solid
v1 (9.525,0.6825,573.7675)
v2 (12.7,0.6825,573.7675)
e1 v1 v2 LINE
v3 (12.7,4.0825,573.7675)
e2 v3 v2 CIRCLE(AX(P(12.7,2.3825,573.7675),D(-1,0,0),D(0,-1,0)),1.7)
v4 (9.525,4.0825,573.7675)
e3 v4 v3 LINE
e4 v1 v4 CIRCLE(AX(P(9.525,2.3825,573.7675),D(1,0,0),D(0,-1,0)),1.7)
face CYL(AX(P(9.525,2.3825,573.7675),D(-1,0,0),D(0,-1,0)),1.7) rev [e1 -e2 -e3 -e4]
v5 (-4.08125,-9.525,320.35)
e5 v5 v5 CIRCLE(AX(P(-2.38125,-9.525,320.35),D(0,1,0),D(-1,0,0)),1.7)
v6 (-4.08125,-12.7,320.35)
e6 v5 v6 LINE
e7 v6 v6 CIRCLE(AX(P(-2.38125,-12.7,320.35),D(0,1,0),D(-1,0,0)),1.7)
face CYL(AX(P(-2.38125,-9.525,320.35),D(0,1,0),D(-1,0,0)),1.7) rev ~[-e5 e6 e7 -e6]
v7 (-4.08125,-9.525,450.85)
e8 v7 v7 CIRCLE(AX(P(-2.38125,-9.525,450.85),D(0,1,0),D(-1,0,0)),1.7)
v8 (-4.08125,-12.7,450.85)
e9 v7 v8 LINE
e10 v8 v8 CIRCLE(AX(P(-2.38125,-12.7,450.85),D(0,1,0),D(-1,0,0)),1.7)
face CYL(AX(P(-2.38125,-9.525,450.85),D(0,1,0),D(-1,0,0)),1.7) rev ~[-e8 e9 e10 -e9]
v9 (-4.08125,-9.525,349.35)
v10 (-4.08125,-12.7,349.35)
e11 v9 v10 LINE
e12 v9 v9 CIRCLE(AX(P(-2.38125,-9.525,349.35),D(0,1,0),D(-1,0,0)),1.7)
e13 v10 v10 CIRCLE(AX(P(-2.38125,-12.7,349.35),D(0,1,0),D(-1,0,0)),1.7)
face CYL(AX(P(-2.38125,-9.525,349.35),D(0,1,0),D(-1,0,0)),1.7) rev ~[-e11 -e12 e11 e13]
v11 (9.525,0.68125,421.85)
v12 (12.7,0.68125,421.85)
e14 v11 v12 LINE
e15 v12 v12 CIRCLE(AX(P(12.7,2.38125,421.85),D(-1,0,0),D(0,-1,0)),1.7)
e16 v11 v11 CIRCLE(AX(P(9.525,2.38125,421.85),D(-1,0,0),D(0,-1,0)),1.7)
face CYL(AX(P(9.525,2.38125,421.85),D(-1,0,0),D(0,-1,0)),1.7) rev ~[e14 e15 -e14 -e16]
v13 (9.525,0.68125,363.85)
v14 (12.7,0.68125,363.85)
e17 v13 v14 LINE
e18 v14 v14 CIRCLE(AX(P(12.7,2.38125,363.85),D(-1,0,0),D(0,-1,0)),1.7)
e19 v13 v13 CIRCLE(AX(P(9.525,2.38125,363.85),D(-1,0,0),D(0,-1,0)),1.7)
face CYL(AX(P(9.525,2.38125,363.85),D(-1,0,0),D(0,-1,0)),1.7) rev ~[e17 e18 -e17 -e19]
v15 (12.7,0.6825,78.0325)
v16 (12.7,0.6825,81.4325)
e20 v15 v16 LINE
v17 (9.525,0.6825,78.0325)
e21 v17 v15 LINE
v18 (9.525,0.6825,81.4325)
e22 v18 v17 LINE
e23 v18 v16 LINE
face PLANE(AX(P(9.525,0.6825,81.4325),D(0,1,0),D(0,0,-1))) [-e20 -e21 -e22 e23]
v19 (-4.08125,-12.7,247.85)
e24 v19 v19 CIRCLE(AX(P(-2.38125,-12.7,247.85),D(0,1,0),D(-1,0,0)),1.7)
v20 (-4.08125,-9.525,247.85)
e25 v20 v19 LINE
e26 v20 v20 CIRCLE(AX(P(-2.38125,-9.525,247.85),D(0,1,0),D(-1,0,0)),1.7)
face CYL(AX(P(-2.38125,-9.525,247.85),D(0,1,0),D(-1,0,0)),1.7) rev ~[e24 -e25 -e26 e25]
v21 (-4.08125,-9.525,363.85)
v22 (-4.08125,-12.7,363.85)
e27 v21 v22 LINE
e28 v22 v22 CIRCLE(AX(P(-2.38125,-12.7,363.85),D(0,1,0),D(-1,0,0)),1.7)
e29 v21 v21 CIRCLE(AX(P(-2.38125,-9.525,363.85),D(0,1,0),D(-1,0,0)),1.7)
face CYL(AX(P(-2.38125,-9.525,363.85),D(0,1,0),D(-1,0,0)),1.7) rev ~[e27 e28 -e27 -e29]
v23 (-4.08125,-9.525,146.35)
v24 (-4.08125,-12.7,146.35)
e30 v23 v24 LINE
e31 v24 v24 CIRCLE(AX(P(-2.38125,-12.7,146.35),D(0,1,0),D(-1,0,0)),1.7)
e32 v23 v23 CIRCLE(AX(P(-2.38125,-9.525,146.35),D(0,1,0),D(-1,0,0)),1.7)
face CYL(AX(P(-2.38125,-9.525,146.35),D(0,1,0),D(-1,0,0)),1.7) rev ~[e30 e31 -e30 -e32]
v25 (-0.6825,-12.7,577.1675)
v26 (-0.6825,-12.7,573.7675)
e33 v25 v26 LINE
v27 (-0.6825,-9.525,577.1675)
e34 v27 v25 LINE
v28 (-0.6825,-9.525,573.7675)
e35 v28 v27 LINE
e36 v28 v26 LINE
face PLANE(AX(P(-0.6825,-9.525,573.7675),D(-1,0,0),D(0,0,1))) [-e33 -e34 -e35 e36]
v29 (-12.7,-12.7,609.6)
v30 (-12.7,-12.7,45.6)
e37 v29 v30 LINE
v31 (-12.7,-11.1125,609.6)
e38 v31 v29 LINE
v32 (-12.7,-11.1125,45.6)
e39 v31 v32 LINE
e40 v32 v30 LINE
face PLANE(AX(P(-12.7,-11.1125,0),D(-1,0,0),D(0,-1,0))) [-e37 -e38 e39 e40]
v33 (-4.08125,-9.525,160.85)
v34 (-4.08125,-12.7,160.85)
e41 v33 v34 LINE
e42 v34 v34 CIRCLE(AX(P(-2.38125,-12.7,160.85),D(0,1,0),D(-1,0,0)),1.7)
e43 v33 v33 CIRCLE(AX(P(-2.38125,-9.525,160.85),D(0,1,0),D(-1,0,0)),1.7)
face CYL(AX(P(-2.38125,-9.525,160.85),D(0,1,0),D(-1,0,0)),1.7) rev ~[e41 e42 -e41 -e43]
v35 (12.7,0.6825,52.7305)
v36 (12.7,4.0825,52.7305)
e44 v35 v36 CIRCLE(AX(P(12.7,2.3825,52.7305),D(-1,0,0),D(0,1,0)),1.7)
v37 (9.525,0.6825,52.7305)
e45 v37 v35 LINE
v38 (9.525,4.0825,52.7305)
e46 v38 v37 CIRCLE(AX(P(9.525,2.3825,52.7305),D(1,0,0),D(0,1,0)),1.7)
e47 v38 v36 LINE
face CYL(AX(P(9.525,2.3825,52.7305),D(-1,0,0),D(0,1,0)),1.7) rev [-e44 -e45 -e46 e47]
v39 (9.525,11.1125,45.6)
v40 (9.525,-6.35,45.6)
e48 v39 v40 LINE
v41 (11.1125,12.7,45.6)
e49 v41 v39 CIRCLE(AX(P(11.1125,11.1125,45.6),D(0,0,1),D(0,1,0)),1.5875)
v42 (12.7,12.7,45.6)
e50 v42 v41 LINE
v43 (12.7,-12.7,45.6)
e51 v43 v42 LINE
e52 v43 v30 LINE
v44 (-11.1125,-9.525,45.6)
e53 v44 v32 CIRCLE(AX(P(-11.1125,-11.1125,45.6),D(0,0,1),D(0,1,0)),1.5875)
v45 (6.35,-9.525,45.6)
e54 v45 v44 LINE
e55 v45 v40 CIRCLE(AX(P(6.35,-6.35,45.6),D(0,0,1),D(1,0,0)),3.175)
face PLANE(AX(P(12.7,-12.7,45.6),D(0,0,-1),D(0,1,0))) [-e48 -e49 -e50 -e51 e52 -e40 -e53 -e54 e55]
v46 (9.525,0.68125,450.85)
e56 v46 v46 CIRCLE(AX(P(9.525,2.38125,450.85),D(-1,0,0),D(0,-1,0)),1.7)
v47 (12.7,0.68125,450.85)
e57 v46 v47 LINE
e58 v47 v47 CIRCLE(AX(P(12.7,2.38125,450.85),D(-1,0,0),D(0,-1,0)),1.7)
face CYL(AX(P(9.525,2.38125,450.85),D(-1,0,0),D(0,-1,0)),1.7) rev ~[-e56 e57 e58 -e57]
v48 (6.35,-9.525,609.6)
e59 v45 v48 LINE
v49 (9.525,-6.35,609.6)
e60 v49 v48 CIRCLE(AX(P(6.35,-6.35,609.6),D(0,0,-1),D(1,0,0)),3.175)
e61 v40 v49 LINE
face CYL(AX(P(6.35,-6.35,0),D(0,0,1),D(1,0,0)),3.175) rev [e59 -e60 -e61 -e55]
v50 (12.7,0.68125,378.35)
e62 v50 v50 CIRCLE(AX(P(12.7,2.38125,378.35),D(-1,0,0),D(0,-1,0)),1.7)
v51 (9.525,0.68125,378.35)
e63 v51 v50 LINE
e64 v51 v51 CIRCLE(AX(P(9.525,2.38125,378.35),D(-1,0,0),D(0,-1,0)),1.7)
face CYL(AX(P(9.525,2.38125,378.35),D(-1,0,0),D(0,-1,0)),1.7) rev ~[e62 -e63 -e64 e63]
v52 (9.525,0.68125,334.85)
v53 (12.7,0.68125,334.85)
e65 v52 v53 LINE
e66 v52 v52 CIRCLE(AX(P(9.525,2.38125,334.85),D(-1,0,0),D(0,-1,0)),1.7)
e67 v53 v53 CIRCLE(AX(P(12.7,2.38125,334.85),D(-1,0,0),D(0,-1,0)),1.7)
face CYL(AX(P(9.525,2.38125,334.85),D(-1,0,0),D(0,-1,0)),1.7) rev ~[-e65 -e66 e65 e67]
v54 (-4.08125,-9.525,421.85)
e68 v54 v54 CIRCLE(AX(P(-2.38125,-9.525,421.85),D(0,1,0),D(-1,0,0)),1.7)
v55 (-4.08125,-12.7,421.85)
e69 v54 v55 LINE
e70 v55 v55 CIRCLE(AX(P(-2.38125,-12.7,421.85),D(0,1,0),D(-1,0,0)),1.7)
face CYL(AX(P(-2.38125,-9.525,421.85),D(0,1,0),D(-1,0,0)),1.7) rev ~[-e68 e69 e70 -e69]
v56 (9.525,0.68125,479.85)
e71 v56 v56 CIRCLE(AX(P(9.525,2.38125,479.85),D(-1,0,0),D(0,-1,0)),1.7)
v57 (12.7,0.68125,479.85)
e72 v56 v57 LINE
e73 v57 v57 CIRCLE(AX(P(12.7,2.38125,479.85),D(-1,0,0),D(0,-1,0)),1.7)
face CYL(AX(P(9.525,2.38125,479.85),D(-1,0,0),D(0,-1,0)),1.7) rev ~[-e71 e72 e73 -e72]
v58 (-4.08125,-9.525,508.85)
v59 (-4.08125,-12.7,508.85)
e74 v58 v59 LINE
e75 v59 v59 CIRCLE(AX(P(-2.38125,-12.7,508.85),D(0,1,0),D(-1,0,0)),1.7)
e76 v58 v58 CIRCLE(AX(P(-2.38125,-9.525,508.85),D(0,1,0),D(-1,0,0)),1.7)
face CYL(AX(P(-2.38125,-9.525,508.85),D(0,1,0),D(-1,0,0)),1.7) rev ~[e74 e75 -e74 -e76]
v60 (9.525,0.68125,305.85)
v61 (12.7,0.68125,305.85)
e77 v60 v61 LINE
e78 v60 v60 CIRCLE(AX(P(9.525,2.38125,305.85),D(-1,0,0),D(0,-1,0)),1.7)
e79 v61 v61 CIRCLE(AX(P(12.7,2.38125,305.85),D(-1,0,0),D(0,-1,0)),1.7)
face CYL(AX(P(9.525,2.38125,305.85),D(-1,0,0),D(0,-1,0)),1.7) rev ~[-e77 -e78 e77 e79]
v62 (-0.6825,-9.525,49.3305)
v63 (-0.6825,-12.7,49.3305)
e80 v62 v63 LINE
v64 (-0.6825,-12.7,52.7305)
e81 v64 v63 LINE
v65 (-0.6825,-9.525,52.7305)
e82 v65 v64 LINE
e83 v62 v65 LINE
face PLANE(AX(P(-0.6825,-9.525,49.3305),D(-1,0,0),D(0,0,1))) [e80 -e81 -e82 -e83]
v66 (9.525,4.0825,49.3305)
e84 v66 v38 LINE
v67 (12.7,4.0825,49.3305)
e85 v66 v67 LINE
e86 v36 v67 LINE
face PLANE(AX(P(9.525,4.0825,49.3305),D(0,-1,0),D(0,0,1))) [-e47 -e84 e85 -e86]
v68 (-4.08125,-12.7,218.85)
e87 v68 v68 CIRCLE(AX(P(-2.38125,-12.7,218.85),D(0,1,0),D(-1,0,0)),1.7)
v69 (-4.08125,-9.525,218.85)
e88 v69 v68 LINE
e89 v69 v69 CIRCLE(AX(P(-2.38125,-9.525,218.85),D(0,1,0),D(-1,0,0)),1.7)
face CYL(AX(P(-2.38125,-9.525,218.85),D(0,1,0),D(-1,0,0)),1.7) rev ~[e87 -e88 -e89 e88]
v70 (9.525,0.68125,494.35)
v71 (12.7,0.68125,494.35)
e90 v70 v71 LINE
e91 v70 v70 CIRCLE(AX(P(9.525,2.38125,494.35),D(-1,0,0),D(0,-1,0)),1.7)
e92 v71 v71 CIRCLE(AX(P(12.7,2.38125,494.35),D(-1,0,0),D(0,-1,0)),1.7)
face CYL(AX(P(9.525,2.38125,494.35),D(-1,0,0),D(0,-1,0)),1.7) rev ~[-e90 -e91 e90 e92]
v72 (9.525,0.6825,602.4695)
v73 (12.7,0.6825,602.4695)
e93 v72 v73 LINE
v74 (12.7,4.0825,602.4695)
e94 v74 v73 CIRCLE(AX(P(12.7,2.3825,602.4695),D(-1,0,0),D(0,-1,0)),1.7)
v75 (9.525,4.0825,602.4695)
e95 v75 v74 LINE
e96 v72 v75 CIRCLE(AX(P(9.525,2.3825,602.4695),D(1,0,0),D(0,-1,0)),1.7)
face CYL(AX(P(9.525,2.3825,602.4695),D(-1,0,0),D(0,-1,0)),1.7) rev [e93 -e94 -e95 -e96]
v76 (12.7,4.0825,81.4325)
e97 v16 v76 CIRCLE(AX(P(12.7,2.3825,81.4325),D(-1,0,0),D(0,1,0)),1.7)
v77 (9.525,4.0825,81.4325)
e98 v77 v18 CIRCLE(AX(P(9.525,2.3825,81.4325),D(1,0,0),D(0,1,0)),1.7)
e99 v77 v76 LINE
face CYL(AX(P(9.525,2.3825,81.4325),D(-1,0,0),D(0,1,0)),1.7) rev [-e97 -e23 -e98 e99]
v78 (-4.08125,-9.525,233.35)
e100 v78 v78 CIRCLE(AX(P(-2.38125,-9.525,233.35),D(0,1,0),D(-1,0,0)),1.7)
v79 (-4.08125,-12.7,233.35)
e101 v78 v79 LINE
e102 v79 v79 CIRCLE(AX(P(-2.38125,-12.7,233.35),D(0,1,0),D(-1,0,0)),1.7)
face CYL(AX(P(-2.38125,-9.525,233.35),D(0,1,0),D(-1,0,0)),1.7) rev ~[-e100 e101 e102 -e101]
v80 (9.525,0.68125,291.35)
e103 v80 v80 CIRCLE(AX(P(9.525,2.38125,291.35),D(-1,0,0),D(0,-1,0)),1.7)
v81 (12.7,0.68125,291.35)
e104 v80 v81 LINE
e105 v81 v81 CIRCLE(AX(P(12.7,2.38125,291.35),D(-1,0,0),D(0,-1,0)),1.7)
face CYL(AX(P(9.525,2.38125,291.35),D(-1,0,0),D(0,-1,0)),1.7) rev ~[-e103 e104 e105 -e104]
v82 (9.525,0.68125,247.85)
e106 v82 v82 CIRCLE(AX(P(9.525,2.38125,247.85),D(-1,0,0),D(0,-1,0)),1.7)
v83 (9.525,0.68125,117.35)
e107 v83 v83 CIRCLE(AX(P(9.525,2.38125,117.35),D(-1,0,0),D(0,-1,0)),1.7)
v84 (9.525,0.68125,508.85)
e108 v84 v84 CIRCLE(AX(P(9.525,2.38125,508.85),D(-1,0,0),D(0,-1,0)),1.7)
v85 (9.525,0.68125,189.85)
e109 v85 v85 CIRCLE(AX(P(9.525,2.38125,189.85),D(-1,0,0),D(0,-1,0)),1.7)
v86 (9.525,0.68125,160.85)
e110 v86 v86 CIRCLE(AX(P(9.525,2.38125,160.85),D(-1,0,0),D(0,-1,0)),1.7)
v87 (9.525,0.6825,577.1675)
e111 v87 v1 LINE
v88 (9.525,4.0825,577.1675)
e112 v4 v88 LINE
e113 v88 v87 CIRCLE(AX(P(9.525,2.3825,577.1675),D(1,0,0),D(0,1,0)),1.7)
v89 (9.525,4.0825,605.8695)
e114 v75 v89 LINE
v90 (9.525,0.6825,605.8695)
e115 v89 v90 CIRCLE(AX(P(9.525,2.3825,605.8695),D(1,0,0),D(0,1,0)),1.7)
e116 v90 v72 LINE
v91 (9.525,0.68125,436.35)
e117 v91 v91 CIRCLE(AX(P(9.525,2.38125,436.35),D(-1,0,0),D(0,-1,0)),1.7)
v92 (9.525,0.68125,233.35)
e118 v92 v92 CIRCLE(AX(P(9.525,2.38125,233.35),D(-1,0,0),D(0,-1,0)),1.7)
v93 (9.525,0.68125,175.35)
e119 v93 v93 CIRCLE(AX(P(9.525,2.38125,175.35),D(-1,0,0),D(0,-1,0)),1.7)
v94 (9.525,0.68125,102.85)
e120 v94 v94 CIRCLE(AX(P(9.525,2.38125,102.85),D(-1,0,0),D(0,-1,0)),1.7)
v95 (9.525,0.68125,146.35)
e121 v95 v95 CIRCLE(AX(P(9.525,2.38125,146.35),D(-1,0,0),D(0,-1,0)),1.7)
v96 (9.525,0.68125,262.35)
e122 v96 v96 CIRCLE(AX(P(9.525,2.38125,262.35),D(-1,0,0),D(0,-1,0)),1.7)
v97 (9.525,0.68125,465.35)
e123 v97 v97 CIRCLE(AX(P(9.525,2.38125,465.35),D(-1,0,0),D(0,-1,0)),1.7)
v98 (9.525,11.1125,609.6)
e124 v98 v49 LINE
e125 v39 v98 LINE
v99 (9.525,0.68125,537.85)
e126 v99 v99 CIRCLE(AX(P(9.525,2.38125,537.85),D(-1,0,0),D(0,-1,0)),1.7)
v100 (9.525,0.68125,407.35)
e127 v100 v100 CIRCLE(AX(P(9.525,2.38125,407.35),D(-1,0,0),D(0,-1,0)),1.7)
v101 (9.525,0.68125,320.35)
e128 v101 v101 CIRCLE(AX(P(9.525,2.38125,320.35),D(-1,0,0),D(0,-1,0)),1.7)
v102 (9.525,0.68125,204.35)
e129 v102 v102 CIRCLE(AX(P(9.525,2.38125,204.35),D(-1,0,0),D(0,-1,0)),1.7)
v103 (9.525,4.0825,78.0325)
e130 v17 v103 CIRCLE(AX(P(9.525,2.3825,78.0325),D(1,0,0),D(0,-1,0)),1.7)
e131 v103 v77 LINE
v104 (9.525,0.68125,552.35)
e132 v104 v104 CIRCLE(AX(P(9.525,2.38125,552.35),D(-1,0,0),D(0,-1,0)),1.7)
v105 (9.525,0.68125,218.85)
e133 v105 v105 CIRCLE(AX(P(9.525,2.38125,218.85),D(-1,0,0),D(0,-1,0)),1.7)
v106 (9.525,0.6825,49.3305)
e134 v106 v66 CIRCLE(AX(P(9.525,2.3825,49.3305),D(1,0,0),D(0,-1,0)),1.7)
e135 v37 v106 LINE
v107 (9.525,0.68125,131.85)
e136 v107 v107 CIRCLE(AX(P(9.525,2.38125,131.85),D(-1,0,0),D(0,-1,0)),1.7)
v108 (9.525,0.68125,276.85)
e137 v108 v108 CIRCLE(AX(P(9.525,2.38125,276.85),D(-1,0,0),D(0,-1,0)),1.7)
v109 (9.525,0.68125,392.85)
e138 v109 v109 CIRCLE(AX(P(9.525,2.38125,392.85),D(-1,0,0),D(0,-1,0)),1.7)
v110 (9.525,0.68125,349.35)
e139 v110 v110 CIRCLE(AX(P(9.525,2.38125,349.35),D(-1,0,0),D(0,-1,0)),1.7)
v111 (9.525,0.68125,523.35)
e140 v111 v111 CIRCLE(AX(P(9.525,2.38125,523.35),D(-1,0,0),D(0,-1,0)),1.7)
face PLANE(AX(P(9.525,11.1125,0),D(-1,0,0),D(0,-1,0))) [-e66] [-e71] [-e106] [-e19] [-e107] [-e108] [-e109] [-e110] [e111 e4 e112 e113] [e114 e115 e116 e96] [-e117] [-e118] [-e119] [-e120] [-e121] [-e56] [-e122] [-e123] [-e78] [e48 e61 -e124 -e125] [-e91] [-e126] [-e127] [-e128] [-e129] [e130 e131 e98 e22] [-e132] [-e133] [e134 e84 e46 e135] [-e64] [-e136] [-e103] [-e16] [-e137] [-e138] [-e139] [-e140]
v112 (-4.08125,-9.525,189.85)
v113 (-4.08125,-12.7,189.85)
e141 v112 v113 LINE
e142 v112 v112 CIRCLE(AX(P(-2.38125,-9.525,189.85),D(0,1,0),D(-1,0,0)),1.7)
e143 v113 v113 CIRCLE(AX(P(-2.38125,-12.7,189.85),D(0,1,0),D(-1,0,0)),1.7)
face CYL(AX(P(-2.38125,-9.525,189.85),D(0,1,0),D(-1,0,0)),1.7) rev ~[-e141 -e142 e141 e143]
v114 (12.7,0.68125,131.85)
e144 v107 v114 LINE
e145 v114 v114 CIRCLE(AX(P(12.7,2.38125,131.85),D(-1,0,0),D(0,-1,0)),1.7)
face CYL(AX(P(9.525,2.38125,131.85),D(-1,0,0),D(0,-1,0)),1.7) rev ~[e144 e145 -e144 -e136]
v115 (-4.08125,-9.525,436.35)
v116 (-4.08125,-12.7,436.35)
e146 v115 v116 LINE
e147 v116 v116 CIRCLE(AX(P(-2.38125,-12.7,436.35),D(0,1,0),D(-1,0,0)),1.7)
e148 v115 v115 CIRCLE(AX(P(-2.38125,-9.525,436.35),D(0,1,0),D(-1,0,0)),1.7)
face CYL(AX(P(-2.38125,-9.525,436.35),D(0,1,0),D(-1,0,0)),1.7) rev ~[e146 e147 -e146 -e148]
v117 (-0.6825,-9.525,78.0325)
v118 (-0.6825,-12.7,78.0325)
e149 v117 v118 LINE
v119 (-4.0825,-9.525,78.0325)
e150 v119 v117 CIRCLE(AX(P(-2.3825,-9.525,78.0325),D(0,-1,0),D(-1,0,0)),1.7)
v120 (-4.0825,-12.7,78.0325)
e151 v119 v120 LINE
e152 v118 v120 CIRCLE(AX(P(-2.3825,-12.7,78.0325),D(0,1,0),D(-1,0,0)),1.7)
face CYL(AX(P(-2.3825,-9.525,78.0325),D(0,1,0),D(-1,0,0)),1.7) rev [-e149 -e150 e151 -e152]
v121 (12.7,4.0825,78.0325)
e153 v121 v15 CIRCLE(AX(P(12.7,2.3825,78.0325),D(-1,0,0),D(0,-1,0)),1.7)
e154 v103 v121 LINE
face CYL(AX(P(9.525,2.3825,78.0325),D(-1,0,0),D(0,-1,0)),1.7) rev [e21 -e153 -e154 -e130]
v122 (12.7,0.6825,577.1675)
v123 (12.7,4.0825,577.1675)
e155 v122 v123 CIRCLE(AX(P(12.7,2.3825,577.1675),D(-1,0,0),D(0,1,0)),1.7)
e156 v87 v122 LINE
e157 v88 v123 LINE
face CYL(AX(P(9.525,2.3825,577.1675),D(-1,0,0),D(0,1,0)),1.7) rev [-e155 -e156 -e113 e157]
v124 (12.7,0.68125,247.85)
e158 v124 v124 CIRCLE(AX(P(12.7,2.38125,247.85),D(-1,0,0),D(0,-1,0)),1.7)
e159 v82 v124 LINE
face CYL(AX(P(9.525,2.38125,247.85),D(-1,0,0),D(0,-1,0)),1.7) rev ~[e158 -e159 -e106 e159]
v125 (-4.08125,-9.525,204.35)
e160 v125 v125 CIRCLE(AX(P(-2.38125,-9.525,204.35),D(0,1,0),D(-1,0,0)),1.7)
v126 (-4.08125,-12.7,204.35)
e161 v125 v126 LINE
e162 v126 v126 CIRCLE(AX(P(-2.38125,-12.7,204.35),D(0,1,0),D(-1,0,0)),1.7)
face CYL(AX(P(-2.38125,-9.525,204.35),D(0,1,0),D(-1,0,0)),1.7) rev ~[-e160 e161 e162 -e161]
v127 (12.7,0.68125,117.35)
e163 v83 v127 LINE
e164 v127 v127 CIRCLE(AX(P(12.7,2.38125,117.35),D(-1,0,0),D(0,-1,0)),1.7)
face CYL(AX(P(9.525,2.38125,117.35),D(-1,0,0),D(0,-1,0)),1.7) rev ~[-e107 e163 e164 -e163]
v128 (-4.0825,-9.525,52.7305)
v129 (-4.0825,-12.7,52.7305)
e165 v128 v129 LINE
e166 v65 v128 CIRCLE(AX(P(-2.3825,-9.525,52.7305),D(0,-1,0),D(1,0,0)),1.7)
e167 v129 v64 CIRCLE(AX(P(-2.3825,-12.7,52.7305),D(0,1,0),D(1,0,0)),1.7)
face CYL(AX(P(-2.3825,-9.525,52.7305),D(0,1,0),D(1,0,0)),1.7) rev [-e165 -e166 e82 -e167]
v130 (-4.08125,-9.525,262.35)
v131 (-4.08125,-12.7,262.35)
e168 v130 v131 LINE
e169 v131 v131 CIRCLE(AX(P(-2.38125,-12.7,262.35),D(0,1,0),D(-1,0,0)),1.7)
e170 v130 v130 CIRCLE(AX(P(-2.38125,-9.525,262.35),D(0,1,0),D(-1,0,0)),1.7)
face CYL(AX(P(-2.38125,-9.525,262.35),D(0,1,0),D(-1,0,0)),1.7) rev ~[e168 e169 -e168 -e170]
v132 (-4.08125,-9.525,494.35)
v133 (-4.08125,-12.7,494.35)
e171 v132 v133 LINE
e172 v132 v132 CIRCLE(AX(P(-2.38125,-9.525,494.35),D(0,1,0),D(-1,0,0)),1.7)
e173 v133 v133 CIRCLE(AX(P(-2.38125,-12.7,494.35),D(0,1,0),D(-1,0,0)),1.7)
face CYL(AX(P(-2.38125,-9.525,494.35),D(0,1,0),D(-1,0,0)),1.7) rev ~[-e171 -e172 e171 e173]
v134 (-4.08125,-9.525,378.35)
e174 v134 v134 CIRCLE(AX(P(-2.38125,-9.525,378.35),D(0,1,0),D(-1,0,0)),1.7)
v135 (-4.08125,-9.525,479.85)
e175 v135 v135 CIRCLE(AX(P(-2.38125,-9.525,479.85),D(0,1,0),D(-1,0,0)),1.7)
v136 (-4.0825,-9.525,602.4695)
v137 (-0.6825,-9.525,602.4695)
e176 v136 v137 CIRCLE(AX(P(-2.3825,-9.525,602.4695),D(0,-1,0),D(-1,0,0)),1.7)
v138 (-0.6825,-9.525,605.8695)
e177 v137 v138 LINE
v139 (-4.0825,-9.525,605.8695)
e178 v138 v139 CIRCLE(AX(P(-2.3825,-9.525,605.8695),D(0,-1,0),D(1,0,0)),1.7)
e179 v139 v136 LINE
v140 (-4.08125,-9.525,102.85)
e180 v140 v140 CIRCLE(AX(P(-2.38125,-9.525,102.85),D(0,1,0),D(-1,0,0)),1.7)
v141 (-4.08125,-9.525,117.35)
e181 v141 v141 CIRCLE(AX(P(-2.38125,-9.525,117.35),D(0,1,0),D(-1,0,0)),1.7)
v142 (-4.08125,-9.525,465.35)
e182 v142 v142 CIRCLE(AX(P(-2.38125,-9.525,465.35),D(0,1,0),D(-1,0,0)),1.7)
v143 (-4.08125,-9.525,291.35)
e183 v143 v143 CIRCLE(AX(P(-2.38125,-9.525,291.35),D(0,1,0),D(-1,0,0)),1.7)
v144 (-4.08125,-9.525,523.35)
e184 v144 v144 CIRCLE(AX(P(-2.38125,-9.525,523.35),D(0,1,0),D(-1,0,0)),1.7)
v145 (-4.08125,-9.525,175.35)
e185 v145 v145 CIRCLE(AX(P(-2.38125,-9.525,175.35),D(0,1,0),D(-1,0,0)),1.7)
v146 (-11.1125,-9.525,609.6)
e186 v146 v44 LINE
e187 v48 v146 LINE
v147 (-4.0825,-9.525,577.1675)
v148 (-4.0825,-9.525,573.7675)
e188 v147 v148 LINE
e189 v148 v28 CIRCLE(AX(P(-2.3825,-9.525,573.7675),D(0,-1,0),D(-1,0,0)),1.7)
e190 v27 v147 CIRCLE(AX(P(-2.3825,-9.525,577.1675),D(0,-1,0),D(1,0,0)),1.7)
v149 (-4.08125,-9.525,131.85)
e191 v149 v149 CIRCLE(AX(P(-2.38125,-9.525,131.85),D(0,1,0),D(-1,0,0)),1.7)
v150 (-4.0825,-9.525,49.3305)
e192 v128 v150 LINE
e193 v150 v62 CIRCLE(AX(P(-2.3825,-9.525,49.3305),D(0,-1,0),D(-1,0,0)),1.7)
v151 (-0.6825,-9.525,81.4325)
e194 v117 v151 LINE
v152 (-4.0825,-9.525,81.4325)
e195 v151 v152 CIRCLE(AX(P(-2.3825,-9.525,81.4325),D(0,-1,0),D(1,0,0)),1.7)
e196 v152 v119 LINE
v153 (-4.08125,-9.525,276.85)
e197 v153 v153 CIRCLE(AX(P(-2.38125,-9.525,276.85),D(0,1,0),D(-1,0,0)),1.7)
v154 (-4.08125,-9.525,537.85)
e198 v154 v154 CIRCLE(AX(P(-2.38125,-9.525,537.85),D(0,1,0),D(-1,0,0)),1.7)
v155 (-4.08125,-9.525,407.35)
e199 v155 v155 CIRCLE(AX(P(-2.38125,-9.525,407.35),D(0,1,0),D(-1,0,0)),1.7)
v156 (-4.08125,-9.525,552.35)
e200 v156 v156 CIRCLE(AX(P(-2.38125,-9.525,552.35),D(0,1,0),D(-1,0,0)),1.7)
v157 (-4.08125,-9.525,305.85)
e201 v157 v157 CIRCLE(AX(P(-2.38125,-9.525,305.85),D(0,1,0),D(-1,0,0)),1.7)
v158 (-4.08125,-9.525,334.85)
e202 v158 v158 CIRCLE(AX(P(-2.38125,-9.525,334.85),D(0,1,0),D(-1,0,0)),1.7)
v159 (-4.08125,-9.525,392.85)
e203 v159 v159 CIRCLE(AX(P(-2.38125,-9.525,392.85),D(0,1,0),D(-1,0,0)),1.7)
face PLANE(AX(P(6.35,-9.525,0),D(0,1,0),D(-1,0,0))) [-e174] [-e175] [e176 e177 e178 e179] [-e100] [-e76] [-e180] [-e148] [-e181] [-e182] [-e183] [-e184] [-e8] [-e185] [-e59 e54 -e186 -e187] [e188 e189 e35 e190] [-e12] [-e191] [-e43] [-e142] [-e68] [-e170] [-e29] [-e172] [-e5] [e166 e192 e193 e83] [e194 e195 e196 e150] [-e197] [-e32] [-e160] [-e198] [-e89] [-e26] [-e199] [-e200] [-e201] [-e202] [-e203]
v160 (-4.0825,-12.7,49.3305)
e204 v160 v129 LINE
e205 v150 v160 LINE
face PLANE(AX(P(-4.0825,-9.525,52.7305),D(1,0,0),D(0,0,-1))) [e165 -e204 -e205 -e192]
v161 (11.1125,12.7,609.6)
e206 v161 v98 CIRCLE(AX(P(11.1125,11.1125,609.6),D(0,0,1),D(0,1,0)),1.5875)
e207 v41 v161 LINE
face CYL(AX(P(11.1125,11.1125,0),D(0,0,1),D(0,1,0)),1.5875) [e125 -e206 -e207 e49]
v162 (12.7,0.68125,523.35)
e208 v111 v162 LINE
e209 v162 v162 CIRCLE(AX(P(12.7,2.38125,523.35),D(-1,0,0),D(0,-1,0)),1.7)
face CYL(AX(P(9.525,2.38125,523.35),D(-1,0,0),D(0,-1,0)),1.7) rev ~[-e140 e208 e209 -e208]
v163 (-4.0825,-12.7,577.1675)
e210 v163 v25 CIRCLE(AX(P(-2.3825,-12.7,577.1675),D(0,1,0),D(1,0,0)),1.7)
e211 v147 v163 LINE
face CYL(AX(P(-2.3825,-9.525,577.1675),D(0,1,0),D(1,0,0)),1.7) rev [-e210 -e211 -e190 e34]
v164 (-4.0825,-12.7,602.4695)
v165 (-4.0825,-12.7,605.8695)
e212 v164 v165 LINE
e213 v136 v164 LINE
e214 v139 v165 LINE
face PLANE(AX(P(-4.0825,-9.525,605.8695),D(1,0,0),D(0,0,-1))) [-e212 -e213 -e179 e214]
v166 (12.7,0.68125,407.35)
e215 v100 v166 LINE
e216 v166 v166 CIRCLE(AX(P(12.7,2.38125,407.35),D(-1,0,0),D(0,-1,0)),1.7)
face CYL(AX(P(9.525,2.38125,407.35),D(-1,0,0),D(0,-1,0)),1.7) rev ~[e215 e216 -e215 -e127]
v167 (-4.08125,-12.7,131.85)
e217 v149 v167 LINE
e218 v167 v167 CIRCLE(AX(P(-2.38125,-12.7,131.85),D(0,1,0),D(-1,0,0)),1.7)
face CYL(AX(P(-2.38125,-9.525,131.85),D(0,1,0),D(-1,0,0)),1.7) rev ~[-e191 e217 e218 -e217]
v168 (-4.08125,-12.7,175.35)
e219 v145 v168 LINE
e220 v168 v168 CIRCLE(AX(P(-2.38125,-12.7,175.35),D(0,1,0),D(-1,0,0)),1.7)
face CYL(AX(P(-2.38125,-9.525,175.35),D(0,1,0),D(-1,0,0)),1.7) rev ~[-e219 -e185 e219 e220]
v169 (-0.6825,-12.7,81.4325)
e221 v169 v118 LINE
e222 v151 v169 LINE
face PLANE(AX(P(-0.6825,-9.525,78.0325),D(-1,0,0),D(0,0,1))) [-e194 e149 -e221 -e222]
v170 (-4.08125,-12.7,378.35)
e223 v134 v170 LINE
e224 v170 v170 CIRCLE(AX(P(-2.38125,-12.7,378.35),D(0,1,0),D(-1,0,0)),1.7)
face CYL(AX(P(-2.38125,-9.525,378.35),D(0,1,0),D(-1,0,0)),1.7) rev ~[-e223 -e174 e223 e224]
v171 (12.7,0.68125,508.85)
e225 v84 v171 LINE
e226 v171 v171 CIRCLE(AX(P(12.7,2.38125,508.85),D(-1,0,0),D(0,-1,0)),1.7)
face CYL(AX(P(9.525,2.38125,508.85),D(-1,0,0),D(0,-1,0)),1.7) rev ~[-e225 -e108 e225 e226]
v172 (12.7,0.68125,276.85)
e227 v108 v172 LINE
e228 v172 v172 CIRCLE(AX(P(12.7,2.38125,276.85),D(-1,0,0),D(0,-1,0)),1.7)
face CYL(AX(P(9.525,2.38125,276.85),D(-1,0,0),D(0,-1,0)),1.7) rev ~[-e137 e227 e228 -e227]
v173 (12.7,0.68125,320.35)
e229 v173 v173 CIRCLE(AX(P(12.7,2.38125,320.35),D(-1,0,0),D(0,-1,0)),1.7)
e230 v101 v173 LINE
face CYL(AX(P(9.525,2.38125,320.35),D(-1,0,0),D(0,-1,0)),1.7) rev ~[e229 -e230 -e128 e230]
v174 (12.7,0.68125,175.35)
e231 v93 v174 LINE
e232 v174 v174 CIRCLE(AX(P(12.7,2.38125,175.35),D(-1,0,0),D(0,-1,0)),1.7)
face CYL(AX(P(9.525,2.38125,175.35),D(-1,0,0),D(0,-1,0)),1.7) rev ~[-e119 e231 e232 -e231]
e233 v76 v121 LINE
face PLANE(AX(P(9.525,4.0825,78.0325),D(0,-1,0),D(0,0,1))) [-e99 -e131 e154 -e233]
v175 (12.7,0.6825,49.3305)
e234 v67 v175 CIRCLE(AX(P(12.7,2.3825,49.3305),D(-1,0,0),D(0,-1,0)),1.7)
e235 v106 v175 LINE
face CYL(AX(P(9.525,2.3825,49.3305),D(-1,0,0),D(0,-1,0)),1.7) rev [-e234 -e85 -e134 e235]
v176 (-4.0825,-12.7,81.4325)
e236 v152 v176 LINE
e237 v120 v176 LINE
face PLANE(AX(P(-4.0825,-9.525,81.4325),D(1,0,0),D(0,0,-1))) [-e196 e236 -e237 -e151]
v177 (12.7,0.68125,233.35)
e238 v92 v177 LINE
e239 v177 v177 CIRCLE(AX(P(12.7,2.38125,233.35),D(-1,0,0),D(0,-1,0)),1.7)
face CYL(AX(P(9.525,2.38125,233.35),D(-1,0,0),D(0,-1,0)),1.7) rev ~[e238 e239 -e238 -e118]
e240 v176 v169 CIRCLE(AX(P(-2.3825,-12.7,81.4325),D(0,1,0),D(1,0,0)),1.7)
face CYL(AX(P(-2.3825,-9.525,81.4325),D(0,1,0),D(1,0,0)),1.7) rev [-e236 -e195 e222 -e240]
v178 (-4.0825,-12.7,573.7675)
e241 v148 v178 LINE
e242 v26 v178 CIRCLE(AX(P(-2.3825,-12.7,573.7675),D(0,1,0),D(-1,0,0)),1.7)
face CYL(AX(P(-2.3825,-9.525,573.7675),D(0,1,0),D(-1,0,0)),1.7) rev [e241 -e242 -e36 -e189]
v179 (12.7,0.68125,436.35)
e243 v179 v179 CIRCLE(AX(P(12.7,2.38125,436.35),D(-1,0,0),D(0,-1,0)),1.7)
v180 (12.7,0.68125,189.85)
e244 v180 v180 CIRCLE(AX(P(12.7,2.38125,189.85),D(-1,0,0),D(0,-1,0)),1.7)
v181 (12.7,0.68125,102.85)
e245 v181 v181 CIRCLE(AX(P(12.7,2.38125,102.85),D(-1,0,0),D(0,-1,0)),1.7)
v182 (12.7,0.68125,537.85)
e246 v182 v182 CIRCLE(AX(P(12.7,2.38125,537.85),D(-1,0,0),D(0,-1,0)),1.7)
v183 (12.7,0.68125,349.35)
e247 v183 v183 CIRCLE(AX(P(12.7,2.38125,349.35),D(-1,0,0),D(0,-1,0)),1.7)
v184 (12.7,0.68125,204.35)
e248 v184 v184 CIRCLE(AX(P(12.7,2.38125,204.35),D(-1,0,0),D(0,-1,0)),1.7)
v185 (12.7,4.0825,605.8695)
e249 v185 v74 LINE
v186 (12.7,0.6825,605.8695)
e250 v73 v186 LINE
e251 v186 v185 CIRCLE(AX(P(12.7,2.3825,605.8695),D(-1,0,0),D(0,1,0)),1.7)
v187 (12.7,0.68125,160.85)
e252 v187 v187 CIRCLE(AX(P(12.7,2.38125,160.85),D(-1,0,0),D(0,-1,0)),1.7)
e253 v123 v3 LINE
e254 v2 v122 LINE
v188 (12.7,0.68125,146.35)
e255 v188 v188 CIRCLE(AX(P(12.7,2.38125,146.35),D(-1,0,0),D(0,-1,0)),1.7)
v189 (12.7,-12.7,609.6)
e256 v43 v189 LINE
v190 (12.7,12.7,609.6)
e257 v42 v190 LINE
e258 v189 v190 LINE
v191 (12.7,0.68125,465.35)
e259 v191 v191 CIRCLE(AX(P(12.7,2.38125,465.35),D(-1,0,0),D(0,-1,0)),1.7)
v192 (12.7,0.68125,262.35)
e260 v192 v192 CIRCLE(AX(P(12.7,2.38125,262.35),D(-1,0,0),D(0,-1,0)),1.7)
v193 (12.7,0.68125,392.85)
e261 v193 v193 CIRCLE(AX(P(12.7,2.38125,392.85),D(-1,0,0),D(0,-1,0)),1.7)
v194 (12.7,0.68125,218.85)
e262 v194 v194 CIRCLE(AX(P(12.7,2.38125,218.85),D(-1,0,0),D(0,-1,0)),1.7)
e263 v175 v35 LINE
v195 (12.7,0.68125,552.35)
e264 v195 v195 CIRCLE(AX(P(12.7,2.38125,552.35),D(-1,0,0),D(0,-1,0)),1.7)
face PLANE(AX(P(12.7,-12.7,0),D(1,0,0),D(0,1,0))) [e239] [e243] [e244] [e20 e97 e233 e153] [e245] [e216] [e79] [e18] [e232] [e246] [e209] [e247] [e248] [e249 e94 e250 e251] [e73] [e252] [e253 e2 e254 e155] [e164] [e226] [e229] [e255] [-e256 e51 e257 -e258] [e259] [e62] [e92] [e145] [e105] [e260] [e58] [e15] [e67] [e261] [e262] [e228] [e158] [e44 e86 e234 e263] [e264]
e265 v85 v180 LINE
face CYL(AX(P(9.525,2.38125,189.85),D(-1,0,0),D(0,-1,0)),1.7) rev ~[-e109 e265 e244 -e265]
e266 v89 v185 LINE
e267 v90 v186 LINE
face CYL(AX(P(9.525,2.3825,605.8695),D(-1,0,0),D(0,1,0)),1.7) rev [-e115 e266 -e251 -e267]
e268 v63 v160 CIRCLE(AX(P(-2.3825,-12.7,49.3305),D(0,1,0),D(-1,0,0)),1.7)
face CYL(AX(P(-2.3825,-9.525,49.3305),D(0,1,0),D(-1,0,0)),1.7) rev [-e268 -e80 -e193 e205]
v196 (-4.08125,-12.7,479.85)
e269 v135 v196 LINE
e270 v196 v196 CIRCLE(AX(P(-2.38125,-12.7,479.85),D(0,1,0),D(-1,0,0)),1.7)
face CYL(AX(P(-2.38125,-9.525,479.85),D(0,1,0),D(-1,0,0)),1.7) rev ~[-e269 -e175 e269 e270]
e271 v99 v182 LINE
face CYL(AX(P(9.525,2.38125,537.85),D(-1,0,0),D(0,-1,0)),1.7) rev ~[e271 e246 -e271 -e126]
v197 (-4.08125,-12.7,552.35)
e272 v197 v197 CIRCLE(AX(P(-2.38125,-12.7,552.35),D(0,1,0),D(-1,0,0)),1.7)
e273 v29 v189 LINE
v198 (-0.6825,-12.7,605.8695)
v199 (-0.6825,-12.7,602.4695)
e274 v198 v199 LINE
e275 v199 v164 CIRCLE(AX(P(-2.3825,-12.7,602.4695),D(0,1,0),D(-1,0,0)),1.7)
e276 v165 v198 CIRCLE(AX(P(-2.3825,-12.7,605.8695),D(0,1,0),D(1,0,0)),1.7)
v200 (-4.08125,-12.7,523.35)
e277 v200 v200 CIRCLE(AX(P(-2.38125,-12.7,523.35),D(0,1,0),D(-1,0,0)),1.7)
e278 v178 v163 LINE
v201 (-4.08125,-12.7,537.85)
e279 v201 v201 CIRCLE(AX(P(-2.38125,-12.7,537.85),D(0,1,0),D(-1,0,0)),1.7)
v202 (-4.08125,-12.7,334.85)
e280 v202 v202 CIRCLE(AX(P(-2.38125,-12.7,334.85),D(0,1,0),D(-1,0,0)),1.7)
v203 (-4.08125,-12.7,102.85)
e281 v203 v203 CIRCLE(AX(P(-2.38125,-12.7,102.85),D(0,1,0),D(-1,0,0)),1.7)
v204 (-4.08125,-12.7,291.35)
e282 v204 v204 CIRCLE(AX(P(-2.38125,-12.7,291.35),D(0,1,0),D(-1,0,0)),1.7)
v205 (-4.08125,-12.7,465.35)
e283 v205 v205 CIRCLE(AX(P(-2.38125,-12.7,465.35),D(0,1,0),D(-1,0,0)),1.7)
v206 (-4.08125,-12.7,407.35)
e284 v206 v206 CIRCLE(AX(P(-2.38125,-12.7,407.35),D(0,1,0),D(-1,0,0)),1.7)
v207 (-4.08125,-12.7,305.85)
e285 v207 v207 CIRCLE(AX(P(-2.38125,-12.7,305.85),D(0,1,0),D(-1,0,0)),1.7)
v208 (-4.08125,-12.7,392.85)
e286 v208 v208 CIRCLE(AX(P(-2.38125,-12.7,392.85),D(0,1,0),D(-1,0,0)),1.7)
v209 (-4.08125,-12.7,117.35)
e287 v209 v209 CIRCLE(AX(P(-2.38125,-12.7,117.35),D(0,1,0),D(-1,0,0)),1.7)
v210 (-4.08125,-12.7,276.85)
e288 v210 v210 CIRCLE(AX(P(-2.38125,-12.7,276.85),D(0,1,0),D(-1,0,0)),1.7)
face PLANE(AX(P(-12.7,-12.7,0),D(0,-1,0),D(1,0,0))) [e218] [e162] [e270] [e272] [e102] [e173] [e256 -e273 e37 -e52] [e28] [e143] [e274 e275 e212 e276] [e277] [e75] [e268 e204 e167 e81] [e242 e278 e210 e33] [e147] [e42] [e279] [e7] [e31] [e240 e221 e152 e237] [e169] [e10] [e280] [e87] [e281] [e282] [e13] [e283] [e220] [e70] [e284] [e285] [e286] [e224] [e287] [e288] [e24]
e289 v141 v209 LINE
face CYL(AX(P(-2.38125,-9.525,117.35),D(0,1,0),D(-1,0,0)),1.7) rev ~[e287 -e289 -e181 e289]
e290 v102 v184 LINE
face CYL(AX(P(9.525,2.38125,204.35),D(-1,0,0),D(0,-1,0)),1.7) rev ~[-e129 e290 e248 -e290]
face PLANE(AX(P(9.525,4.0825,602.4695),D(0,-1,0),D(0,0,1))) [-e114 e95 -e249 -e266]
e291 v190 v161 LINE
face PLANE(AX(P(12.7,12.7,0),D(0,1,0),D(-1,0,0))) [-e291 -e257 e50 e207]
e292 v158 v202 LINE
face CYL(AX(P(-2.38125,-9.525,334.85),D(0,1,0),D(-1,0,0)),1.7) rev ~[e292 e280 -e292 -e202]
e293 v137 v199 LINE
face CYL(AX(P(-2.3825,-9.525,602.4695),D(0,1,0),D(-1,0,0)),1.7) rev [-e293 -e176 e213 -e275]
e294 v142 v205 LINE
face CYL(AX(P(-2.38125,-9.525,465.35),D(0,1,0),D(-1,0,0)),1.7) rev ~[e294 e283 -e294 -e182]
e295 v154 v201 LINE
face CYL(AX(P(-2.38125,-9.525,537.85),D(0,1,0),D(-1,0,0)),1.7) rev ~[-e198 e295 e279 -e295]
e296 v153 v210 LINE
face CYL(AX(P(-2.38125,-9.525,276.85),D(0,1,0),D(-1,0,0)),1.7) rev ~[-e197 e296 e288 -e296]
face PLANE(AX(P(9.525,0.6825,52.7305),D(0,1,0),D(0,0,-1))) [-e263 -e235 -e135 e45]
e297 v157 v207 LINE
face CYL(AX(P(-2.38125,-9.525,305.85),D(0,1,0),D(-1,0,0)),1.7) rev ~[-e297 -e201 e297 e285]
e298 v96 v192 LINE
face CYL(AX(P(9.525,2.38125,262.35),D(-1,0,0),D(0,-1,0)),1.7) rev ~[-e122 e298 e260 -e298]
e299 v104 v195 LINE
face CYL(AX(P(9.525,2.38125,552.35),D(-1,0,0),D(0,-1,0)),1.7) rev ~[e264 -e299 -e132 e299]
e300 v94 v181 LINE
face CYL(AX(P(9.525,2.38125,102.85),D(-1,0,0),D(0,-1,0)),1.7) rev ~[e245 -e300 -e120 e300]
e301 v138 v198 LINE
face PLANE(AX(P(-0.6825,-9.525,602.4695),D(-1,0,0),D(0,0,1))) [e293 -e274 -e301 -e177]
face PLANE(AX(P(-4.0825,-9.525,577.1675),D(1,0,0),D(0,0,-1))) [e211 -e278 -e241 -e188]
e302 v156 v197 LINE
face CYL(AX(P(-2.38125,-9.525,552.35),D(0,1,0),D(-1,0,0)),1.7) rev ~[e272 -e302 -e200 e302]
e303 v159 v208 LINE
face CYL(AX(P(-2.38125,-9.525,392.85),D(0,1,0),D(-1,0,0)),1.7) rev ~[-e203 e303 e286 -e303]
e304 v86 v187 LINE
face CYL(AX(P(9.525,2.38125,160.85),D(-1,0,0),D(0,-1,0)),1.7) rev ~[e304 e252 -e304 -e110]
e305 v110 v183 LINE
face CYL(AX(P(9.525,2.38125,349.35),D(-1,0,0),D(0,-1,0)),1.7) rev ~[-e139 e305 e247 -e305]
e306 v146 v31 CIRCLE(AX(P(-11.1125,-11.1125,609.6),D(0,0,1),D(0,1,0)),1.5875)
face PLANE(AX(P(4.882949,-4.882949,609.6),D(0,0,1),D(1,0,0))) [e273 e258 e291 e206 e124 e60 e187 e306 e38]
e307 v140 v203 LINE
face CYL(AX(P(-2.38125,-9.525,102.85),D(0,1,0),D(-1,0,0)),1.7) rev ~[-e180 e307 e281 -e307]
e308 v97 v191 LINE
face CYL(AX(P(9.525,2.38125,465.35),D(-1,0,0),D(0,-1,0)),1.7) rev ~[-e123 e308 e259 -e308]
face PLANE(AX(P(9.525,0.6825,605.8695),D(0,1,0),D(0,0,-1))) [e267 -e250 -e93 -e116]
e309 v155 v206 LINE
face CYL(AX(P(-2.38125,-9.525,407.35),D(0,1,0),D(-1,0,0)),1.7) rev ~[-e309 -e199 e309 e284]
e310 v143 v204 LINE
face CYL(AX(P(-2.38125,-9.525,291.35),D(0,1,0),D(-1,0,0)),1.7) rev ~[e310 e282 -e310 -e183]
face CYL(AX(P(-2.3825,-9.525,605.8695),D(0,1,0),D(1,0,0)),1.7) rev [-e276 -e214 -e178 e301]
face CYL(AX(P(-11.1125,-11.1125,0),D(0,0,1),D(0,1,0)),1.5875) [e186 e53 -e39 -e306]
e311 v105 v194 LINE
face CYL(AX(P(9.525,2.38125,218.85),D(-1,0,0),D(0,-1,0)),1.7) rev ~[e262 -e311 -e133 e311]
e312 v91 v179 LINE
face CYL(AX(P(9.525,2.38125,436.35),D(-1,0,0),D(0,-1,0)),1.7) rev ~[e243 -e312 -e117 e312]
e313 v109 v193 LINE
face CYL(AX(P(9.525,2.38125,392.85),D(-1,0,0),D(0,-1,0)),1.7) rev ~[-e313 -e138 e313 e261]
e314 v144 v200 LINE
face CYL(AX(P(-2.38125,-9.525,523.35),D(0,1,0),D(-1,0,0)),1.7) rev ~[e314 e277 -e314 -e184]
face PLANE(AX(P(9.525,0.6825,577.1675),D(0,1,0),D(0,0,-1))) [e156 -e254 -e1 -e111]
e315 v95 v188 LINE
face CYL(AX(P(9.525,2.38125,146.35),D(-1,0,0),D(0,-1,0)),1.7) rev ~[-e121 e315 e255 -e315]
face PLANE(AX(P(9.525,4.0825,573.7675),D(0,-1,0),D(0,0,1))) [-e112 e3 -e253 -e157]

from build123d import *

# Parameters (mm, degrees)
BOSS_EXTRUDE1_DEPTH = 609.6
SKETCH3_W           = 655.2
SKETCH3_H           = 25.4
CUT_EXTRUDE2_DEPTH  = 30.48
SKETCH4_R           = 1.7
CUT_EXTRUDE4_DEPTH  = 611.137198198
SKETCH7_R           = 1.7
CUT_EXTRUDE6_DEPTH  = 611.137198198
CUT_EXTRUDE7_DEPTH  = 611.137198198
CUT_EXTRUDE8_DEPTH  = 611.137198198


with BuildPart() as part:
    # Sketch2 → Boss-Extrude1 (new, symmetric)
    with BuildSketch(Plane.XY):
        with BuildLine():
            Line((-12.7, -12.7), (12.7, -12.7))
            Line((12.7, -12.7), (12.7, 12.7))
            Line((12.7, 12.7), (11.1125, 12.7))
            ThreePointArc((11.1125, 12.7), (9.989967985, 12.235032015), (9.525, 11.1125))
            Line((9.525, 11.1125), (9.525, -6.35))
            ThreePointArc((9.525, -6.35), (8.59506403, -8.59506403), (6.35, -9.525))
            Line((6.35, -9.525), (-11.1125, -9.525))
            ThreePointArc((-11.1125, -9.525), (-12.235032015, -9.989967985), (-12.7, -11.1125))
            Line((-12.7, -11.1125), (-12.7, -12.7))
        make_face()
    extrude(amount=BOSS_EXTRUDE1_DEPTH, both=True)

    # Sketch3 → Cut-Extrude2 (cut)
    with BuildSketch(Plane(origin=(12.7, 0, 0), x_dir=(0, 0, -1), z_dir=(1, 0, 0))):
        with Locations((282, 0)):
            Rectangle(SKETCH3_W, SKETCH3_H)
    extrude(amount=-CUT_EXTRUDE2_DEPTH, mode=Mode.SUBTRACT)

    # Sketch4 → Cut-Extrude4 (cut, through all)
    with BuildSketch(Plane(origin=(0, -9.525, 0), x_dir=(1, 0, 0), z_dir=(0, 1, 0))):
        with Locations(Location((-2.38125, -552.35, 0), (0, 0, 180))):
            Circle(SKETCH4_R)
        with Locations(Location((-2.38125, -537.85, 0), (0, 0, 180))):
            Circle(SKETCH4_R)
        with Locations(Location((-2.38125, -523.35, 0), (0, 0, 180))):
            Circle(SKETCH4_R)
        with Locations(Location((-2.38125, -508.85, 0), (0, 0, 180))):
            Circle(SKETCH4_R)
        with Locations(Location((-2.38125, -494.35, 0), (0, 0, 180))):
            Circle(SKETCH4_R)
        with Locations(Location((-2.38125, -479.85, 0), (0, 0, 180))):
            Circle(SKETCH4_R)
        with Locations(Location((-2.38125, -465.35, 0), (0, 0, 180))):
            Circle(SKETCH4_R)
        with Locations(Location((-2.38125, -450.85, 0), (0, 0, 180))):
            Circle(SKETCH4_R)
        with Locations(Location((-2.38125, -436.35, 0), (0, 0, 180))):
            Circle(SKETCH4_R)
        with Locations(Location((-2.38125, -421.85, 0), (0, 0, 180))):
            Circle(SKETCH4_R)
        with Locations(Location((-2.38125, -407.35, 0), (0, 0, 180))):
            Circle(SKETCH4_R)
        with Locations(Location((-2.38125, -392.85, 0), (0, 0, 180))):
            Circle(SKETCH4_R)
        with Locations(Location((-2.38125, -378.35, 0), (0, 0, 180))):
            Circle(SKETCH4_R)
        with Locations(Location((-2.38125, -363.85, 0), (0, 0, 180))):
            Circle(SKETCH4_R)
        with Locations(Location((-2.38125, -349.35, 0), (0, 0, 180))):
            Circle(SKETCH4_R)
        with Locations(Location((-2.38125, -334.85, 0), (0, 0, 180))):
            Circle(SKETCH4_R)
        with Locations(Location((-2.38125, -320.35, 0), (0, 0, 180))):
            Circle(SKETCH4_R)
        with Locations(Location((-2.38125, -305.85, 0), (0, 0, 180))):
            Circle(SKETCH4_R)
        with Locations(Location((-2.38125, -291.35, 0), (0, 0, 180))):
            Circle(SKETCH4_R)
        with Locations(Location((-2.38125, -276.85, 0), (0, 0, 180))):
            Circle(SKETCH4_R)
        with Locations(Location((-2.38125, -262.35, 0), (0, 0, 180))):
            Circle(SKETCH4_R)
        with Locations(Location((-2.38125, -247.85, 0), (0, 0, 180))):
            Circle(SKETCH4_R)
        with Locations(Location((-2.38125, -233.35, 0), (0, 0, 180))):
            Circle(SKETCH4_R)
        with Locations(Location((-2.38125, -218.85, 0), (0, 0, 180))):
            Circle(SKETCH4_R)
        with Locations(Location((-2.38125, -204.35, 0), (0, 0, 180))):
            Circle(SKETCH4_R)
        with Locations(Location((-2.38125, -189.85, 0), (0, 0, 180))):
            Circle(SKETCH4_R)
        with Locations(Location((-2.38125, -175.35, 0), (0, 0, 180))):
            Circle(SKETCH4_R)
        with Locations(Location((-2.38125, -160.85, 0), (0, 0, 180))):
            Circle(SKETCH4_R)
        with Locations(Location((-2.38125, -146.35, 0), (0, 0, 180))):
            Circle(SKETCH4_R)
        with Locations(Location((-2.38125, -131.85, 0), (0, 0, 180))):
            Circle(SKETCH4_R)
        with Locations(Location((-2.38125, -117.35, 0), (0, 0, 180))):
            Circle(SKETCH4_R)
        with Locations(Location((-2.38125, -102.85, 0), (0, 0, 180))):
            Circle(SKETCH4_R)
    extrude(amount=-CUT_EXTRUDE4_DEPTH, mode=Mode.SUBTRACT)

    # Sketch7 → Cut-Extrude6 (cut, through all)
    with BuildSketch(Plane.ZY.offset(-9.525)):
        with Locations(Location((552.35, 2.38125, 0), (0, 0, 270))):
            Circle(SKETCH7_R)
        with Locations(Location((537.85, 2.38125, 0), (0, 0, 270))):
            Circle(SKETCH7_R)
        with Locations(Location((523.35, 2.38125, 0), (0, 0, 270))):
            Circle(SKETCH7_R)
        with Locations(Location((508.85, 2.38125, 0), (0, 0, 270))):
            Circle(SKETCH7_R)
        with Locations(Location((494.35, 2.38125, 0), (0, 0, 270))):
            Circle(SKETCH7_R)
        with Locations(Location((479.85, 2.38125, 0), (0, 0, 270))):
            Circle(SKETCH7_R)
        with Locations(Location((465.35, 2.38125, 0), (0, 0, 270))):
            Circle(SKETCH7_R)
        with Locations(Location((450.85, 2.38125, 0), (0, 0, 270))):
            Circle(SKETCH7_R)
        with Locations(Location((436.35, 2.38125, 0), (0, 0, 270))):
            Circle(SKETCH7_R)
        with Locations(Location((421.85, 2.38125, 0), (0, 0, 270))):
            Circle(SKETCH7_R)
        with Locations(Location((407.35, 2.38125, 0), (0, 0, 270))):
            Circle(SKETCH7_R)
        with Locations(Location((392.85, 2.38125, 0), (0, 0, 270))):
            Circle(SKETCH7_R)
        with Locations(Location((378.35, 2.38125, 0), (0, 0, 270))):
            Circle(SKETCH7_R)
        with Locations(Location((363.85, 2.38125, 0), (0, 0, 270))):
            Circle(SKETCH7_R)
        with Locations(Location((349.35, 2.38125, 0), (0, 0, 270))):
            Circle(SKETCH7_R)
        with Locations(Location((334.85, 2.38125, 0), (0, 0, 270))):
            Circle(SKETCH7_R)
        with Locations(Location((320.35, 2.38125, 0), (0, 0, 270))):
            Circle(SKETCH7_R)
        with Locations(Location((305.85, 2.38125, 0), (0, 0, 270))):
            Circle(SKETCH7_R)
        with Locations(Location((291.35, 2.38125, 0), (0, 0, 270))):
            Circle(SKETCH7_R)
        with Locations(Location((276.85, 2.38125, 0), (0, 0, 270))):
            Circle(SKETCH7_R)
        with Locations(Location((262.35, 2.38125, 0), (0, 0, 270))):
            Circle(SKETCH7_R)
        with Locations(Location((247.85, 2.38125, 0), (0, 0, 270))):
            Circle(SKETCH7_R)
        with Locations(Location((233.35, 2.38125, 0), (0, 0, 270))):
            Circle(SKETCH7_R)
        with Locations(Location((218.85, 2.38125, 0), (0, 0, 270))):
            Circle(SKETCH7_R)
        with Locations(Location((204.35, 2.38125, 0), (0, 0, 270))):
            Circle(SKETCH7_R)
        with Locations(Location((189.85, 2.38125, 0), (0, 0, 270))):
            Circle(SKETCH7_R)
        with Locations(Location((175.35, 2.38125, 0), (0, 0, 270))):
            Circle(SKETCH7_R)
        with Locations(Location((160.85, 2.38125, 0), (0, 0, 270))):
            Circle(SKETCH7_R)
        with Locations(Location((146.35, 2.38125, 0), (0, 0, 270))):
            Circle(SKETCH7_R)
        with Locations(Location((131.85, 2.38125, 0), (0, 0, 270))):
            Circle(SKETCH7_R)
        with Locations(Location((117.35, 2.38125, 0), (0, 0, 270))):
            Circle(SKETCH7_R)
        with Locations(Location((102.85, 2.38125, 0), (0, 0, 270))):
            Circle(SKETCH7_R)
    extrude(amount=-CUT_EXTRUDE6_DEPTH, mode=Mode.SUBTRACT)

    # Sketch8 → Cut-Extrude7 (cut, through all)
    with BuildSketch(Plane.ZY.offset(-9.525)):
        with BuildLine():
            Line((49.3305, 4.0825), (52.7305, 4.0825))
            ThreePointArc((52.7305, 4.0825), (54.4305, 2.3825), (52.7305, 0.6825))
            Line((52.7305, 0.6825), (49.3305, 0.6825))
            ThreePointArc((49.3305, 0.6825), (47.6305, 2.3825), (49.3305, 4.0825))
        make_face()
        with BuildLine():
            Line((78.0325, 4.0825), (81.4325, 4.0825))
            ThreePointArc((81.4325, 4.0825), (83.1325, 2.3825), (81.4325, 0.6825))
            Line((81.4325, 0.6825), (78.0325, 0.6825))
            ThreePointArc((78.0325, 0.6825), (76.3325, 2.3825), (78.0325, 4.0825))
        make_face()
        with BuildLine():
            Line((573.7675, 4.0825), (577.1675, 4.0825))
            ThreePointArc((577.1675, 4.0825), (578.8675, 2.3825), (577.1675, 0.6825))
            Line((577.1675, 0.6825), (573.7675, 0.6825))
            ThreePointArc((573.7675, 0.6825), (572.0675, 2.3825), (573.7675, 4.0825))
        make_face()
        with BuildLine():
            Line((602.4695, 4.0825), (605.8695, 4.0825))
            ThreePointArc((605.8695, 4.0825), (607.5695, 2.3825), (605.8695, 0.6825))
            Line((605.8695, 0.6825), (602.4695, 0.6825))
            ThreePointArc((602.4695, 0.6825), (600.7695, 2.3825), (602.4695, 4.0825))
        make_face()
    extrude(amount=-CUT_EXTRUDE7_DEPTH, mode=Mode.SUBTRACT)

    # Sketch9 → Cut-Extrude8 (cut, through all)
    with BuildSketch(Plane(origin=(0, -9.525, 0), x_dir=(1, 0, 0), z_dir=(0, 1, 0))):
        with BuildLine():
            Line((-4.0825, -605.8695), (-4.0825, -602.4695))
            ThreePointArc((-4.0825, -602.4695), (-2.3825, -600.7695), (-0.6825, -602.4695))
            Line((-0.6825, -602.4695), (-0.6825, -605.8695))
            ThreePointArc((-0.6825, -605.8695), (-2.3825, -607.5695), (-4.0825, -605.8695))
        make_face()
        with BuildLine():
            Line((-4.0825, -577.1675), (-4.0825, -573.7675))
            ThreePointArc((-4.0825, -573.7675), (-2.3825, -572.0675), (-0.6825, -573.7675))
            Line((-0.6825, -573.7675), (-0.6825, -577.1675))
            ThreePointArc((-0.6825, -577.1675), (-2.3825, -578.8675), (-4.0825, -577.1675))
        make_face()
        with BuildLine():
            Line((-4.0825, -81.4325), (-4.0825, -78.0325))
            ThreePointArc((-4.0825, -78.0325), (-2.3825, -76.3325), (-0.6825, -78.0325))
            Line((-0.6825, -78.0325), (-0.6825, -81.4325))
            ThreePointArc((-0.6825, -81.4325), (-2.3825, -83.1325), (-4.0825, -81.4325))
        make_face()
        with BuildLine():
            Line((-4.0825, -52.7305), (-4.0825, -49.3305))
            ThreePointArc((-4.0825, -49.3305), (-2.3825, -47.6305), (-0.6825, -49.3305))
            Line((-0.6825, -49.3305), (-0.6825, -52.7305))
            ThreePointArc((-0.6825, -52.7305), (-2.3825, -54.4305), (-4.0825, -52.7305))
        make_face()
    extrude(amount=-CUT_EXTRUDE8_DEPTH, mode=Mode.SUBTRACT)


solid = part.part
